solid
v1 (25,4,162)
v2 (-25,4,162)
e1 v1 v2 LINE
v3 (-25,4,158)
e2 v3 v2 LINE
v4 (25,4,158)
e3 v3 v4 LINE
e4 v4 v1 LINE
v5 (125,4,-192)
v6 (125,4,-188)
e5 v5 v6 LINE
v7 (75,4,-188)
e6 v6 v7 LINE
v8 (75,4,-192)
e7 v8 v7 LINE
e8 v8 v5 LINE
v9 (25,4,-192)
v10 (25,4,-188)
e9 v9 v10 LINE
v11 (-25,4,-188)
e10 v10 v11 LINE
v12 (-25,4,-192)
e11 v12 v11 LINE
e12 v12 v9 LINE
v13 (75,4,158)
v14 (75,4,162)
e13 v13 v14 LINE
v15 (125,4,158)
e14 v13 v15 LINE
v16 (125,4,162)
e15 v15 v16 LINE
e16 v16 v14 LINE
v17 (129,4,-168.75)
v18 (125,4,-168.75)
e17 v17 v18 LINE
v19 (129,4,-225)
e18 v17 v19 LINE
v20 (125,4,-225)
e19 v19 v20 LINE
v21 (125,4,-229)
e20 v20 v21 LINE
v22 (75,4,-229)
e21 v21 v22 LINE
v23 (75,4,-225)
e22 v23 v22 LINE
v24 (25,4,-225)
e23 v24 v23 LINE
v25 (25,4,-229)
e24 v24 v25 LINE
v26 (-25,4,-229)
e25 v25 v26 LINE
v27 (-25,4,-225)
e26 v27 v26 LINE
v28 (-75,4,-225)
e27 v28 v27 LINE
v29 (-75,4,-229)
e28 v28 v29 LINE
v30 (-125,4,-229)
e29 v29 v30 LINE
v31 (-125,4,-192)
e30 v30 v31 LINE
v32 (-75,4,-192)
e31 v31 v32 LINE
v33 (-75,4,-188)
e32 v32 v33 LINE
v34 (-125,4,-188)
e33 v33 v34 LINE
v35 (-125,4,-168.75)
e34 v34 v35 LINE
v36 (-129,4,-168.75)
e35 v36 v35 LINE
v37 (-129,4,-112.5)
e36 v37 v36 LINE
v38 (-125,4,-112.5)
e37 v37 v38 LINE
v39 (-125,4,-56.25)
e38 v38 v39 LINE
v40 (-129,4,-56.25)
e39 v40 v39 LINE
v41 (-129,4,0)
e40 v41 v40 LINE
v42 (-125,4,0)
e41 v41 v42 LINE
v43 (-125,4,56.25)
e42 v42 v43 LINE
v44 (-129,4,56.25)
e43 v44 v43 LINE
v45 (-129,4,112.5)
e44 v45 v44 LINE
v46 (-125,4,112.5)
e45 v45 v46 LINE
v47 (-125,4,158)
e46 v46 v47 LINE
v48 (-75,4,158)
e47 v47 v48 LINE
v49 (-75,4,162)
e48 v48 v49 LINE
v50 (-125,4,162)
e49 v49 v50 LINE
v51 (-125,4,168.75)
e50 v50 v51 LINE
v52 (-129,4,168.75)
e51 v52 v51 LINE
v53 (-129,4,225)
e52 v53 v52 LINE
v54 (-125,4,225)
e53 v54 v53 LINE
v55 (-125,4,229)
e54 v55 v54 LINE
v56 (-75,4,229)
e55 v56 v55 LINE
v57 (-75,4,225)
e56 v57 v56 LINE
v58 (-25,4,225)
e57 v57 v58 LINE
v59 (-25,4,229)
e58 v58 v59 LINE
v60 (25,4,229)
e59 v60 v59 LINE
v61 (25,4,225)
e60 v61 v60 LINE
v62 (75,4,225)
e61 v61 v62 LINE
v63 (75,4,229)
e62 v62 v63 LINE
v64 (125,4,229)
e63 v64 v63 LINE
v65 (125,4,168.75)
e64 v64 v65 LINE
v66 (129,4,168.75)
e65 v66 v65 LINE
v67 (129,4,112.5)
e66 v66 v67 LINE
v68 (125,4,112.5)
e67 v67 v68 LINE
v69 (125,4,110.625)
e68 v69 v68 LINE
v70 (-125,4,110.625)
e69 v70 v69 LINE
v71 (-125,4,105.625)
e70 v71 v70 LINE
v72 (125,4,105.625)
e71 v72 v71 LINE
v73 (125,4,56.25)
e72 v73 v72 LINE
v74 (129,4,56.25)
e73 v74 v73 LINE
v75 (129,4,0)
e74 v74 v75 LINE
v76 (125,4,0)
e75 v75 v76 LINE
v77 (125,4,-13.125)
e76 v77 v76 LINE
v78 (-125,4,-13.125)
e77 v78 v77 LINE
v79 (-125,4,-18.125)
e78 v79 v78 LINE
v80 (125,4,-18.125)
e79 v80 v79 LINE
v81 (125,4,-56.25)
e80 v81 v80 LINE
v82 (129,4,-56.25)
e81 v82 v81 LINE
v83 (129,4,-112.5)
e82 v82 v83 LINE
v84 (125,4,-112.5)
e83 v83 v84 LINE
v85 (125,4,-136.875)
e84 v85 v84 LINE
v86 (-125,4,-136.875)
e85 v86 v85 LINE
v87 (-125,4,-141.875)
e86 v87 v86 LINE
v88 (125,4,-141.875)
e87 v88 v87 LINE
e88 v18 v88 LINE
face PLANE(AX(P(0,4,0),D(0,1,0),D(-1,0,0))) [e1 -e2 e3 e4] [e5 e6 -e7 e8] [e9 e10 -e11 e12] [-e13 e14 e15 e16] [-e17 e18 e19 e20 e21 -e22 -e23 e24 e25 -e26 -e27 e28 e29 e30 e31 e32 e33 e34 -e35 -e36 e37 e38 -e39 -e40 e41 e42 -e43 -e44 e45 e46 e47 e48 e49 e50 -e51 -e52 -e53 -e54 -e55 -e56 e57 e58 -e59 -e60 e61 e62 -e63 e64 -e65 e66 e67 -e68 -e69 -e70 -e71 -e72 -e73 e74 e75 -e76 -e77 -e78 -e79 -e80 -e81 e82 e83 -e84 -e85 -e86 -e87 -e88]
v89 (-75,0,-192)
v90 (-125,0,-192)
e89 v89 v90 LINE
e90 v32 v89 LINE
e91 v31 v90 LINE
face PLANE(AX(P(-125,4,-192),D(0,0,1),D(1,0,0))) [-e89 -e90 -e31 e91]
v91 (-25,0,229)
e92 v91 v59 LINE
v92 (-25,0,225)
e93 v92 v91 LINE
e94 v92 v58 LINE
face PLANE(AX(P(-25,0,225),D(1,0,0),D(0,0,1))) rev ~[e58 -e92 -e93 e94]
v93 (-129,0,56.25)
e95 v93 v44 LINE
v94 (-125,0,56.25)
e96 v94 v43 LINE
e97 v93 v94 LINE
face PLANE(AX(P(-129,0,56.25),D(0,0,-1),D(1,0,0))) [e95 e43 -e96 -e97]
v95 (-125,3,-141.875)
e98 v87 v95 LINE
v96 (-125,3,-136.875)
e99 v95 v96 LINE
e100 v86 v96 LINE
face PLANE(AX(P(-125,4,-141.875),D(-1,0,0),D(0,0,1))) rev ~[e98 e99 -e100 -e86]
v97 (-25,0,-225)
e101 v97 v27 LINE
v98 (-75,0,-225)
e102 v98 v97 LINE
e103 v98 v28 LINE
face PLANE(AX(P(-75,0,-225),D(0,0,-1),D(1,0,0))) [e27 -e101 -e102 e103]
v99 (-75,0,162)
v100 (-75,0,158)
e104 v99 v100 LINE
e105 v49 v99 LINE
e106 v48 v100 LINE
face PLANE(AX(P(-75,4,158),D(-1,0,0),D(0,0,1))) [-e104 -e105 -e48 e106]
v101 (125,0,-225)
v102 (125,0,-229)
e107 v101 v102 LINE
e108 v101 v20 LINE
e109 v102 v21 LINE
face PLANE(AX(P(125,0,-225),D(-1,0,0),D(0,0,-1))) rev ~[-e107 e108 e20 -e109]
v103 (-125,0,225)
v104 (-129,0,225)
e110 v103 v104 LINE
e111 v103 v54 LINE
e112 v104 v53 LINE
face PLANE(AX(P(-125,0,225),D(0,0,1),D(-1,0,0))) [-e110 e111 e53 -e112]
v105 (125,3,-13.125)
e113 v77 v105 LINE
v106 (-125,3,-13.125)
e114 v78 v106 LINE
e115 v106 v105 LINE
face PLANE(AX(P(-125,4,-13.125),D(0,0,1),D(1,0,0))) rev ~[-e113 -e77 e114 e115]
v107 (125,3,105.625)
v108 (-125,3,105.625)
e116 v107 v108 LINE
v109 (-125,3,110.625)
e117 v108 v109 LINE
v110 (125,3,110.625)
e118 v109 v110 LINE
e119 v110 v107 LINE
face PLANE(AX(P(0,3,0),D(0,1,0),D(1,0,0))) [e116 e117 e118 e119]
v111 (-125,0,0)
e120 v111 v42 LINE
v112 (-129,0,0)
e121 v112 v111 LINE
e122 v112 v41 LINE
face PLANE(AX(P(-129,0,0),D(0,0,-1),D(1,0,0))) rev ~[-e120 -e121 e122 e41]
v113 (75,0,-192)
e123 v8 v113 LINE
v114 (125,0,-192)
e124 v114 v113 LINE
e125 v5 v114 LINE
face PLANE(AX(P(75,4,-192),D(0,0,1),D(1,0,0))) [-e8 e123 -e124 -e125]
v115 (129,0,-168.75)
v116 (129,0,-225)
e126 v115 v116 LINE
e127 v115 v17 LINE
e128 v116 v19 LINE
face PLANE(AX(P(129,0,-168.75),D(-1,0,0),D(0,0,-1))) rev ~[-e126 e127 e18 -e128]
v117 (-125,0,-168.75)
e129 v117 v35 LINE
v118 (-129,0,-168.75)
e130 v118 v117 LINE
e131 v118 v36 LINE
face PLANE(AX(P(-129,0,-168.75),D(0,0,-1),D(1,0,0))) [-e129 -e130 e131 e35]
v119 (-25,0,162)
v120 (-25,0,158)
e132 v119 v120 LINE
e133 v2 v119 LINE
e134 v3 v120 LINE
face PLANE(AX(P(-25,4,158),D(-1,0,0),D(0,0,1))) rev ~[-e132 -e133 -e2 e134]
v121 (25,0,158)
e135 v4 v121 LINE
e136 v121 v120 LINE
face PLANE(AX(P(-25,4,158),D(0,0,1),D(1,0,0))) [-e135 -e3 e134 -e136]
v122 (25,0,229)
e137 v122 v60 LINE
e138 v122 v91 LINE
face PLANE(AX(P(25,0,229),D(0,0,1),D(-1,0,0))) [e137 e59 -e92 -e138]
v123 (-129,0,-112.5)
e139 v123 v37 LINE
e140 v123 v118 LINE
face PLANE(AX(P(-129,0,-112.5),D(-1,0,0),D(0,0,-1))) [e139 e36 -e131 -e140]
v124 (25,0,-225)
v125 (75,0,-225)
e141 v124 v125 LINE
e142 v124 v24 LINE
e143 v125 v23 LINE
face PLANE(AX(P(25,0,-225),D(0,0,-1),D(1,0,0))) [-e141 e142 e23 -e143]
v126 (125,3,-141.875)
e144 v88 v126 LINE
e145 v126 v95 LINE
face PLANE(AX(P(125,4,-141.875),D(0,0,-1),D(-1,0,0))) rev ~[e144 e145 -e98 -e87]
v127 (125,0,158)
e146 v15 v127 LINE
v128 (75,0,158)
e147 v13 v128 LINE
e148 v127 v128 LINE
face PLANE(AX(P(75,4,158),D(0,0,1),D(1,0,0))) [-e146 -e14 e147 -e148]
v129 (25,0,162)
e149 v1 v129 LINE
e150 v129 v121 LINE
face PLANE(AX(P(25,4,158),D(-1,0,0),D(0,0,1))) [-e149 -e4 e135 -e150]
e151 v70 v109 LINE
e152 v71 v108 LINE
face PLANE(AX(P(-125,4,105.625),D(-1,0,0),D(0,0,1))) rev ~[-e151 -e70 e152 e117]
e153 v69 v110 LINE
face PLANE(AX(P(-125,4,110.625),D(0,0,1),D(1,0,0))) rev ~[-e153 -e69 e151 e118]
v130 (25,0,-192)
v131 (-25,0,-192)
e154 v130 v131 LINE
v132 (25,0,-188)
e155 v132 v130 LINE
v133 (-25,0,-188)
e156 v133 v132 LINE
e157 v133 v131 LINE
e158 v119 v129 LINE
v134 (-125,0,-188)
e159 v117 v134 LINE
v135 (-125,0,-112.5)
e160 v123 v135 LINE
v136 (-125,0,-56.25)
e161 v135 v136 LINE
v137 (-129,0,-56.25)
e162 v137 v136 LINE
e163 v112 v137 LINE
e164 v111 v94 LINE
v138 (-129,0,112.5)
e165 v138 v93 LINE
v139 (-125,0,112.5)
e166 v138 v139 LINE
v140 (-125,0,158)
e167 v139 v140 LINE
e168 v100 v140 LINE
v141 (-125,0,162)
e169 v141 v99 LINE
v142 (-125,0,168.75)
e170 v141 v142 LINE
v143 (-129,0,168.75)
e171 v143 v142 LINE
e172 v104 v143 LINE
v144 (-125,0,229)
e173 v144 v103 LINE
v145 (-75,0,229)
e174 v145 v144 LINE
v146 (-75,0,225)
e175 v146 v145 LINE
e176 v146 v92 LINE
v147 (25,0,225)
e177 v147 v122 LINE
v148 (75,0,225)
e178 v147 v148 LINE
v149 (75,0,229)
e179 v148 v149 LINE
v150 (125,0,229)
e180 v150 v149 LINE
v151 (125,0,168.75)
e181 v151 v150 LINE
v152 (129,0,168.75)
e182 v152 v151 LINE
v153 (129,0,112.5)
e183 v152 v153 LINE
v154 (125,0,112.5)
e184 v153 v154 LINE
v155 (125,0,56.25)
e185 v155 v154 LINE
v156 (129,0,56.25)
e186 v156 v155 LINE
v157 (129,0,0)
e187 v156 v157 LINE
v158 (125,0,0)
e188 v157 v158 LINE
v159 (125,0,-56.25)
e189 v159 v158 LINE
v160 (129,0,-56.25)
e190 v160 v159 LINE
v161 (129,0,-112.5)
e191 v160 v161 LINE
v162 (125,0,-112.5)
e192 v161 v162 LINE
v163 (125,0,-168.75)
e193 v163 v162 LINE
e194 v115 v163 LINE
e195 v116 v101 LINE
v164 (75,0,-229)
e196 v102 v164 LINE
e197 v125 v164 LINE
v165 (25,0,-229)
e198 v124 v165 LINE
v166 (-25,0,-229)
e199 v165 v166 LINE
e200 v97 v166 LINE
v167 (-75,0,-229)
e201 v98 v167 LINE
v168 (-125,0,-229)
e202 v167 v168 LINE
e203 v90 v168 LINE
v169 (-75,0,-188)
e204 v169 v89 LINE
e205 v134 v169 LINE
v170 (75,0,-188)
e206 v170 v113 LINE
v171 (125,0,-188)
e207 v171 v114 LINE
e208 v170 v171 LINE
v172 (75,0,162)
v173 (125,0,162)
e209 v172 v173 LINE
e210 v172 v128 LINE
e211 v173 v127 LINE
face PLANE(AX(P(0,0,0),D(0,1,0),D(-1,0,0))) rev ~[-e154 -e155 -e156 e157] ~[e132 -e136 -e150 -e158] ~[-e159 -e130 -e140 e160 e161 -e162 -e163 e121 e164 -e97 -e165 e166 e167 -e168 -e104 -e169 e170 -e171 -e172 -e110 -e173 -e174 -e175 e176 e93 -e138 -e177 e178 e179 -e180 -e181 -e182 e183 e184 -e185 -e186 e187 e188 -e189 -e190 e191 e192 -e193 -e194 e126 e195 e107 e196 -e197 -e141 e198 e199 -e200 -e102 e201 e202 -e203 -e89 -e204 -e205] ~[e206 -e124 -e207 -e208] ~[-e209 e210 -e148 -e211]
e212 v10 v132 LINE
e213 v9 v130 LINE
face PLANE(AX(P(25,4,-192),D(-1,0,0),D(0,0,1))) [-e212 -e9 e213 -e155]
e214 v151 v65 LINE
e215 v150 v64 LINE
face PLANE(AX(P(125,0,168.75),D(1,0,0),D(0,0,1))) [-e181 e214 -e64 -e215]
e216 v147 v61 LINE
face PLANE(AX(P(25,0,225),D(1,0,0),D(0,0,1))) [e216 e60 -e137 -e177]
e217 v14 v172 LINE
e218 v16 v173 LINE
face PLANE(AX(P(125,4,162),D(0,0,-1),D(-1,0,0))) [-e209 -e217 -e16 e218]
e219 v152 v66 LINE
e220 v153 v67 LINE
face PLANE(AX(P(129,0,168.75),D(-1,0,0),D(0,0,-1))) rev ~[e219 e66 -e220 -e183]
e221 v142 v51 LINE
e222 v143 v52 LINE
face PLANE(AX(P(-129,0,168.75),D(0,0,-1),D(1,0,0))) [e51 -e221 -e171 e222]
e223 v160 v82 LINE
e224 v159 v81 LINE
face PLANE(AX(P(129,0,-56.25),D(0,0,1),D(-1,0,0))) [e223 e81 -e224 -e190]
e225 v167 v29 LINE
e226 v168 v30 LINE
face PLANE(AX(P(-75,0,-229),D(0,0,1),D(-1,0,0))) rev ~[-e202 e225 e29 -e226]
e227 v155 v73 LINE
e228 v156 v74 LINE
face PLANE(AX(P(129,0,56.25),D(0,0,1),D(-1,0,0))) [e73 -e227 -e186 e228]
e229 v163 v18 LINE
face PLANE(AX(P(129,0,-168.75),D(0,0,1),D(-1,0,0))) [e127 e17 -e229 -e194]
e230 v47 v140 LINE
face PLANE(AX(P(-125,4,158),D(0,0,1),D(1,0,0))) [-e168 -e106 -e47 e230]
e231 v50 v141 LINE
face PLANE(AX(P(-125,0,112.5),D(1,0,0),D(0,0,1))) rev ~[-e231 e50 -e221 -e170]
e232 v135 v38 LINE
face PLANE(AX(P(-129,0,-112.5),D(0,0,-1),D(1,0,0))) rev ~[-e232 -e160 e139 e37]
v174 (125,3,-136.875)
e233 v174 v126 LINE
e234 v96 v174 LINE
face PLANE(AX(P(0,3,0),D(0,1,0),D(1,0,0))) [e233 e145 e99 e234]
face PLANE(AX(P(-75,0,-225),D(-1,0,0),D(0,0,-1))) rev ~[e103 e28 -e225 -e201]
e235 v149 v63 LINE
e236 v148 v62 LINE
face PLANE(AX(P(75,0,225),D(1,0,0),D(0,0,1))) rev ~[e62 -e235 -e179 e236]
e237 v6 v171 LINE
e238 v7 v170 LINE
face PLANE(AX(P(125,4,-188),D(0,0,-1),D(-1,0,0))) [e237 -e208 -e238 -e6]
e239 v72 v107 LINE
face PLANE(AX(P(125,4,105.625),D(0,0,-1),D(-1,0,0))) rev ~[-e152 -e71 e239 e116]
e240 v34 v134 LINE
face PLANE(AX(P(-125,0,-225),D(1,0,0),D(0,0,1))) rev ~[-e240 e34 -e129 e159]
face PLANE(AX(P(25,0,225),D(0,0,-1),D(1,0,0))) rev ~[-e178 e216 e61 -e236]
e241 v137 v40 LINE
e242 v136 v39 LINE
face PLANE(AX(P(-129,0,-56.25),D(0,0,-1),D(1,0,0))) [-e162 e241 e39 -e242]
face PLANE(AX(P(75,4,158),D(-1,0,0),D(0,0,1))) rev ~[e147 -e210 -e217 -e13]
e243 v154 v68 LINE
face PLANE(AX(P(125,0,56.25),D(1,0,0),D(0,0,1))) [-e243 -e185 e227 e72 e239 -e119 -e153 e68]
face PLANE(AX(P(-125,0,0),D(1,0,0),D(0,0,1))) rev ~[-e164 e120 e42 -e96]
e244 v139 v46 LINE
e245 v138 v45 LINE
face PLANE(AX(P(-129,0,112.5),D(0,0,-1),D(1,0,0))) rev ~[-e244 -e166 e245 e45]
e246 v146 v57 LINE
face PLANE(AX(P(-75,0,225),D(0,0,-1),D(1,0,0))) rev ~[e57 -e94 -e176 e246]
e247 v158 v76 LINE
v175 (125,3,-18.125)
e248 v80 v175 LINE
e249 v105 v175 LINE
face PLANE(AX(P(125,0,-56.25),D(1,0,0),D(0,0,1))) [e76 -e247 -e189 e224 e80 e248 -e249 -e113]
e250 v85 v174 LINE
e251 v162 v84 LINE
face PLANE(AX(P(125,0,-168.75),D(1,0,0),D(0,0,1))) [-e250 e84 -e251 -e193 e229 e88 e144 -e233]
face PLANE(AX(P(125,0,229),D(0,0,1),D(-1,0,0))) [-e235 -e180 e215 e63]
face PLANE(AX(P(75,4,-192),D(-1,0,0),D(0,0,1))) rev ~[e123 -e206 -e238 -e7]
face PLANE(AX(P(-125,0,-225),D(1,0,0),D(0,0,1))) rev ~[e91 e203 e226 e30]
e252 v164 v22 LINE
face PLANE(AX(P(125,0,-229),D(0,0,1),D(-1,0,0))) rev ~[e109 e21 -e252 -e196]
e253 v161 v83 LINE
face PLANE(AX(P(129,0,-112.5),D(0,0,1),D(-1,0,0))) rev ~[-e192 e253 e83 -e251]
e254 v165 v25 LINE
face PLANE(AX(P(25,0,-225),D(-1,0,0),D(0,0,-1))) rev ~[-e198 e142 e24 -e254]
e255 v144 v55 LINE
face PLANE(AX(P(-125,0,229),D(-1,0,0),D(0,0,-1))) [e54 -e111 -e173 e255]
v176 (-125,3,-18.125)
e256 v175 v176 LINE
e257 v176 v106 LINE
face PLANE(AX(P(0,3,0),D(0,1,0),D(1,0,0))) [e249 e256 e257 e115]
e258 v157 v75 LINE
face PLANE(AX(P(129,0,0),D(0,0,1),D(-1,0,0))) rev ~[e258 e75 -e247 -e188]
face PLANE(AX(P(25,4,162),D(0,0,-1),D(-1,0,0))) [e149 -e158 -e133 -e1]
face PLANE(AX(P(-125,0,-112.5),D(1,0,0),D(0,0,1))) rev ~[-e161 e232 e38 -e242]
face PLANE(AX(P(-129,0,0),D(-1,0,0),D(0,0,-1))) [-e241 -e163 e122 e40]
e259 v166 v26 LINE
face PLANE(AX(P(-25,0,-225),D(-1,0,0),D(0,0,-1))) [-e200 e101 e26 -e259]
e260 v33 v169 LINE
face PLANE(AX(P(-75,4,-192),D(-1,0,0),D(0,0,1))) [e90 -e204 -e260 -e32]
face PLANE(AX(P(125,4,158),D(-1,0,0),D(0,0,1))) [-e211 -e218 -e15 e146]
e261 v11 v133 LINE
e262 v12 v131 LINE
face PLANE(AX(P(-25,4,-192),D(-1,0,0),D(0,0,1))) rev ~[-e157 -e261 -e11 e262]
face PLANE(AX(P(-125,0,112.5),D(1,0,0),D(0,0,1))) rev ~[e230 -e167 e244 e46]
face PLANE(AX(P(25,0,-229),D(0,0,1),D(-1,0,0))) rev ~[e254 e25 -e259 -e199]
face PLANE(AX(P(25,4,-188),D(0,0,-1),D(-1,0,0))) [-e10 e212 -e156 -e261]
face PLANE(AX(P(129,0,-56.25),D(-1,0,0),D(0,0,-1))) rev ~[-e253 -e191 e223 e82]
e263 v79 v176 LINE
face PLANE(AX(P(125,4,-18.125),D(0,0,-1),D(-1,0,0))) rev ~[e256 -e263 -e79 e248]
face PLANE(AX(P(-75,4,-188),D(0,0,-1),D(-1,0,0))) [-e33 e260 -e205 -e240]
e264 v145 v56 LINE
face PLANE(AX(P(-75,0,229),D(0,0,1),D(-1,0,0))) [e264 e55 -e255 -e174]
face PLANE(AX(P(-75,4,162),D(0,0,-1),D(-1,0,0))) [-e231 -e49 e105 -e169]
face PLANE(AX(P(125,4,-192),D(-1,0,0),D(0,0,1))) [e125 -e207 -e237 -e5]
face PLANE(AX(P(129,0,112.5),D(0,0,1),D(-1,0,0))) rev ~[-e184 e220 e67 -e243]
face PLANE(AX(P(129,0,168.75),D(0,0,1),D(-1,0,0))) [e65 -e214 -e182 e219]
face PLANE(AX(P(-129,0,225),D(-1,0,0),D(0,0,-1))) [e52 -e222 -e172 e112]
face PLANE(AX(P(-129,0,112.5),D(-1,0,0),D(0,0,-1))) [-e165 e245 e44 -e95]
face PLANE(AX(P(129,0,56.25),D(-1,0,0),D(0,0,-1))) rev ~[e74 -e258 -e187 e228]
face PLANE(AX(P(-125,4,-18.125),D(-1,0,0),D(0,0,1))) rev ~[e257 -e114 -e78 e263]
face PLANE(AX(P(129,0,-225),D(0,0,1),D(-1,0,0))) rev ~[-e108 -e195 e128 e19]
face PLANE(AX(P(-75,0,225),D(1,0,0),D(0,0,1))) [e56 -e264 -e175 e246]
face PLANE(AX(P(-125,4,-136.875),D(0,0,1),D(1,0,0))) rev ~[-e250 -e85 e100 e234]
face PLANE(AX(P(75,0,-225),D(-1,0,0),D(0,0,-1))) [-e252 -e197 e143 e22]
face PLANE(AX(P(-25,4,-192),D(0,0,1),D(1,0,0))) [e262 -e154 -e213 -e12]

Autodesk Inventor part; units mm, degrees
ref_plane "YZ Plane" through (0, 0, 0) normal (1, 0, 0) x (0, 1, 0)
ref_plane "XZ Plane" through (0, 0, 0) normal (0, 1, 0) x (-1, 0, 0)
ref_plane "XY Plane" through (0, 0, 0) normal (0, 0, 1) x (1, 0, 0)
sketch "Sketch1" plane through (0, 0, 0) normal (0, 1, 0) x (-1, 0, 0)
  line L0 (-125, 225) -> (125, 225) construction
  line L1 (125, 225) -> (125, -225) construction
  line L2 (125, -225) -> (-125, -225) construction
  line L3 (-125, -225) -> (-125, 225) construction
  line L4 (-125, 225) -> (125, -225) construction
  line L5 (125, 225) -> (-125, -225) construction
  line L6 (125, 225) -> (75, 225) construction
  line L7 (75, 225) -> (75, 229)
  line L8 (75, 229) -> (125, 229)
  line L9 (125, 229) -> (125, 225)
  line L10 (125, 225) -> (129, 225)
  line L11 (129, 225) -> (129, 168.75)
  line L12 (129, 168.75) -> (125, 168.75)
  line L13 (125, 168.75) -> (125, 225) construction
  line L14 (-125, 225) -> (-129, 225) construction
  line L15 (-129, 225) -> (-129, 168.75) construction
  line L16 (-129, 168.75) -> (-125, 168.75)
  line L17 (-125, 168.75) -> (-125, 225)
  line L18 (125, -225) -> (75, -225) construction
  line L19 (75, -225) -> (75, -229)
  line L20 (75, -229) -> (125, -229)
  line L21 (125, -229) -> (125, -225)
  line L22 (125, 112.5) -> (125, 168.75)
  line L23 (125, 168.75) -> (129, 168.75)
  line L24 (129, 112.5) -> (125, 112.5)
  line L25 (129, 168.75) -> (129, 112.5) construction
  line L26 (-125, 112.5) -> (-125, 168.75) construction
  line L27 (-125, 168.75) -> (-129, 168.75)
  line L28 (-129, 168.75) -> (-129, 112.5)
  line L29 (-129, 112.5) -> (-125, 112.5)
  line L30 (125, 56.25) -> (125, 112.5) construction
  line L31 (125, 112.5) -> (129, 112.5)
  line L32 (129, 56.25) -> (125, 56.25)
  line L33 (129, 112.5) -> (129, 56.25)
  line L34 (-125, 56.25) -> (-125, 112.5)
  line L35 (-125, 112.5) -> (-129, 112.5)
  line L36 (-129, 112.5) -> (-129, 56.25) construction
  line L37 (-129, 56.25) -> (-125, 56.25)
  line L38 (125, 0) -> (125, 56.25)
  line L39 (125, 56.25) -> (129, 56.25)
  line L40 (129, 0) -> (125, 0)
  line L41 (129, 56.25) -> (129, 0) construction
  line L42 (-125, 0) -> (-125, 56.25) construction
  line L43 (-125, 56.25) -> (-129, 56.25)
  line L44 (-129, 56.25) -> (-129, 0)
  line L45 (-129, 0) -> (-125, 0)
  line L46 (125, -56.25) -> (125, 0) construction
  line L47 (125, 0) -> (129, 0)
  line L48 (129, -56.25) -> (125, -56.25)
  line L49 (129, 0) -> (129, -56.25)
  line L50 (-125, -56.25) -> (-125, 0)
  line L51 (-125, 0) -> (-129, 0)
  line L52 (-129, 0) -> (-129, -56.25) construction
  line L53 (-129, -56.25) -> (-125, -56.25)
  line L54 (125, -112.5) -> (125, -56.25)
  line L55 (125, -56.25) -> (129, -56.25)
  line L56 (129, -112.5) -> (125, -112.5)
  line L57 (129, -56.25) -> (129, -112.5) construction
  line L58 (-125, -112.5) -> (-125, -56.25) construction
  line L59 (-125, -56.25) -> (-129, -56.25)
  line L60 (-129, -56.25) -> (-129, -112.5)
  line L61 (-129, -112.5) -> (-125, -112.5)
  line L62 (125, -168.75) -> (125, -112.5) construction
  line L63 (125, -112.5) -> (129, -112.5)
  line L64 (129, -168.75) -> (125, -168.75)
  line L65 (129, -112.5) -> (129, -168.75)
  line L66 (-125, -168.75) -> (-125, -112.5)
  line L67 (-125, -112.5) -> (-129, -112.5)
  line L68 (-129, -112.5) -> (-129, -168.75) construction
  line L69 (-129, -168.75) -> (-125, -168.75)
  line L70 (125, -225) -> (125, -168.75)
  line L71 (125, -168.75) -> (129, -168.75)
  line L72 (129, -225) -> (125, -225) construction
  line L73 (129, -168.75) -> (129, -225) construction
  line L74 (-125, -225) -> (-125, -168.75) construction
  line L75 (-125, -168.75) -> (-129, -168.75)
  line L76 (-129, -168.75) -> (-129, -225)
  line L77 (-129, -225) -> (-125, -225)
  line L78 (75, 229) -> (75, 225)
  line L79 (25, 225) -> (25, 229)
  line L80 (25, 229) -> (75, 229) construction
  line L81 (75, 225) -> (25, 225)
  line L82 (75, -225) -> (25, -225)
  line L83 (25, -225) -> (25, -229)
  line L84 (25, -229) -> (75, -229) construction
  line L85 (75, -229) -> (75, -225)
  line L86 (25, 229) -> (25, 225)
  line L87 (-25, 225) -> (-25, 229)
  line L88 (-25, 229) -> (25, 229)
  line L89 (25, 225) -> (-25, 225) construction
  line L90 (25, -225) -> (-25, -225) construction
  line L91 (-25, -225) -> (-25, -229)
  line L92 (-25, -229) -> (25, -229)
  line L93 (25, -229) -> (25, -225)
  line L94 (-25, 229) -> (-25, 225)
  line L95 (-75, 225) -> (-75, 229)
  line L96 (-75, 229) -> (-25, 229) construction
  line L97 (-25, 225) -> (-75, 225)
  line L98 (-25, -225) -> (-75, -225)
  line L99 (-75, -225) -> (-75, -229)
  line L100 (-75, -229) -> (-25, -229) construction
  line L101 (-25, -229) -> (-25, -225)
  line L102 (-75, 229) -> (-75, 225)
  line L103 (-125, 225) -> (-125, 229)
  line L104 (-125, 229) -> (-75, 229)
  line L105 (-75, 225) -> (-125, 225) construction
  line L106 (-75, -225) -> (-125, -225) construction
  line L107 (-125, -225) -> (-125, -229)
  line L108 (-125, -229) -> (-75, -229)
  line L109 (-75, -229) -> (-75, -225)
  point P0 (0, 0)
  point P1 (75, -225)
  point P2 (25, -225)
  point P3 (-25, -225)
  point P4 (-75, -225)
  point P5 (-129, 168.75)
  point P6 (-129, 56.25)
  point P7 (-129, -56.25)
  point P8 (-129, -168.75)
  point P9 (-125, -225)
  point P10 (-25, -225)
  point P11 (75, -225)
  point P12 (125, -56.25)
  point P13 (125, 56.25)
  point P14 (125, 168.75)
  dimension "d0" = 250
  dimension "d1" = 450
  dimension "d2" = 50
  dimension "d3" = 4
  dimension "d4" = 4
  dimension "d5" = 56.25
  dimension "d6" = 4
  dimension "d7" = 56.25
  dimension "d8" = 50
  dimension "d9" = 4
  dimension "d12" = 56.25
  dimension "d19" = 50
extrude "Extrusion1" add sketch "Sketch1" along normal blind 4
sketch "Sketch3" plane through (0, 4, 0) normal (0, 1, 0) x (1, 0, 0)
  line L0 (-129, 56.25) -> (-129, 0) projected
  line L1 (-129, 15.625) -> (125, 15.625) construction
  line L2 (125, 0) -> (125, 56.25) projected
  line L3 (-129, 13.125) -> (125, 13.125)
  line L4 (125, 13.125) -> (125, 18.125)
  line L5 (125, 18.125) -> (-129, 18.125)
  line L6 (-129, 18.125) -> (-129, 13.125)
  line L7 (-129, 18.125) -> (-125, 18.125)
  line L8 (-125, 18.125) -> (-125, 13.125)
  line L9 (-125, 13.125) -> (-129, 13.125)
  line L10 (-129, 13.125) -> (-129, 18.125)
  line L11 (-25, -225) -> (-25, -229) projected
  line L12 (-25, -229) -> (25, -229) projected
  line L13 (25, -229) -> (25, -225) projected
  line L14 (25, -225) -> (75, -225) projected
  line L15 (75, -225) -> (75, -229) projected
  line L16 (75, -229) -> (125, -229) projected
  line L17 (125, -229) -> (125, -168.75) projected
  line L18 (125, -168.75) -> (129, -168.75) projected
  line L19 (129, -168.75) -> (129, -112.5) projected
  line L20 (129, -112.5) -> (125, -112.5) projected
  line L21 (125, -112.5) -> (125, -56.25) projected
  line L22 (125, -56.25) -> (129, -56.25) projected
  line L23 (129, -56.25) -> (129, 0) projected
  line L24 (129, 0) -> (125, 0) projected
  line L25 (125, 0) -> (125, 56.25) projected
  line L26 (125, 56.25) -> (129, 56.25) projected
  line L27 (129, 56.25) -> (129, 112.5) projected
  line L28 (129, 112.5) -> (125, 112.5) projected
  line L29 (125, 112.5) -> (125, 168.75) projected
  line L30 (125, 168.75) -> (129, 168.75) projected
  line L31 (129, 168.75) -> (129, 225) projected
  line L32 (129, 225) -> (125, 225) projected
  line L33 (125, 225) -> (125, 229) projected
  line L34 (125, 229) -> (75, 229) projected
  line L35 (75, 229) -> (75, 225) projected
  line L36 (75, 225) -> (25, 225) projected
  line L37 (25, 225) -> (25, 229) projected
  line L38 (25, 229) -> (-25, 229) projected
  line L39 (-25, 229) -> (-25, 225) projected
  line L40 (-25, 225) -> (-75, 225) projected
  line L41 (-75, 225) -> (-75, 229) projected
  line L42 (-75, 229) -> (-125, 229) projected
  line L43 (-125, 229) -> (-125, 168.75) projected
  line L44 (-125, 168.75) -> (-129, 168.75) projected
  line L45 (-129, 168.75) -> (-129, 112.5) projected
  line L46 (-129, 112.5) -> (-125, 112.5) projected
  line L47 (-125, 112.5) -> (-125, 56.25) projected
  line L48 (-125, 56.25) -> (-129, 56.25) projected
  line L49 (-129, 56.25) -> (-129, 0) projected
  line L50 (-129, 0) -> (-125, 0) projected
  line L51 (-125, 0) -> (-125, -56.25) projected
  line L52 (-125, -56.25) -> (-129, -56.25) projected
  line L53 (-129, -56.25) -> (-129, -112.5) projected
  line L54 (-129, -112.5) -> (-125, -112.5) projected
  line L55 (-125, -112.5) -> (-125, -168.75) projected
  line L56 (-125, -168.75) -> (-129, -168.75) projected
  line L57 (-129, -168.75) -> (-129, -225) projected
  line L58 (-129, -225) -> (-125, -225) projected
  line L59 (-125, -225) -> (-125, -229) projected
  line L60 (-125, -229) -> (-75, -229) projected
  line L61 (-75, -229) -> (-75, -225) projected
  line L62 (-75, -225) -> (-25, -225) projected
  line L63 (-125, -112.5) -> (-125, -168.75) projected
  line L64 (-109.8402, -80.4521) -> (129, -140.625) construction
  line L65 (129, -168.75) -> (129, -112.5) projected
  line L66 (-125, -110.625) -> (125, -110.625)
  line L67 (125, -110.625) -> (125, -105.625)
  line L68 (125, -105.625) -> (-125, -105.625)
  line L69 (-125, -105.625) -> (-125, -110.625)
  line L70 (-125, -110.625) -> (125, -105.625) construction
  line L71 (125, -110.625) -> (-125, -105.625) construction
  line L72 (125, 0) -> (125, 56.25) projected
  line L73 (-125, 0) -> (-125, -56.25) projected
  line L74 (129, 168.75) -> (129, 225) projected
  line L75 (129, 139.375) -> (-125, 139.375) construction
  line L76 (-125, 136.875) -> (125, 136.875)
  line L77 (125, 136.875) -> (125, 141.875)
  line L78 (125, 141.875) -> (-125, 141.875)
  line L79 (-125, 141.875) -> (-125, 136.875)
  line L80 (-125, 136.875) -> (125, 141.875) construction
  line L81 (125, 136.875) -> (-125, 141.875) construction
  line L82 (-125, 229) -> (-125, 168.75) projected
  line L83 (125, 112.5) -> (125, 168.75) projected
  point P0 (0, 0)
  point P1 (-129, 18.125)
  point P2 (-125, 18.125)
  point P3 (-125, 13.125)
  point P4 (0, -108.125)
  point P5 (-125, -138.125)
  point P6 (-125, -143.125)
  point P7 (0, 139.375)
  point P8 (-125, 199.375)
  point P9 (-125, 194.375)
  dimension "d30" = 5
  dimension "d34" = 5
  dimension "d35" = 5
  dimension "d36" = 5
  dimension "d56" = 118.375
  dimension "d57" = 118.75
  dimension "d59" = 118.75
extrude "Extrusion2" cut sketch "Sketch3" against normal blind 1 contours L5 L2 L3 L8 | L76 L79 L78 L29 | L21 L66 L69 L68
sketch "Sketch4" plane through (0, 4, 0) normal (0, 1, 0) x (1, 0, 0)
  line L0 (-125, -158) -> (-75, -158)
  line L1 (-75, -158) -> (-75, -162)
  line L2 (-75, -162) -> (-125, -162)
  line L3 (-125, -162) -> (-125, -158)
  line L4 (-75, -225) -> (-25, -225) projected
  line L5 (125, -110.625) -> (-125, -110.625) projected
  line L6 (-75, -158) -> (-25, -158)
  line L7 (-25, -158) -> (-25, -162)
  line L8 (-25, -162) -> (-75, -162)
  line L9 (-75, -162) -> (-75, -158)
  line L10 (-25, -158) -> (25, -158)
  line L11 (25, -158) -> (25, -162)
  line L12 (25, -162) -> (-25, -162)
  line L13 (-25, -162) -> (-25, -158)
  line L14 (25, -158) -> (75, -158)
  line L15 (75, -158) -> (75, -162)
  line L16 (75, -162) -> (25, -162)
  line L17 (25, -162) -> (25, -158)
  line L18 (75, -158) -> (125, -158)
  line L19 (125, -158) -> (125, -162)
  line L20 (125, -162) -> (75, -162)
  line L21 (75, -162) -> (75, -158)
  line L22 (-125, 0) -> (-125, -56.25) projected
  line L23 (-125, 192) -> (-75, 192)
  line L24 (-75, 192) -> (-75, 188)
  line L25 (-75, 188) -> (-125, 188)
  line L26 (-125, 188) -> (-125, 192)
  line L27 (-75, 192) -> (-25, 192)
  line L28 (-25, 192) -> (-25, 188)
  line L29 (-25, 188) -> (-25, 192)
  line L30 (-25, 188) -> (-75, 188)
  line L31 (-75, 188) -> (-75, 192)
  line L32 (-25, 192) -> (25, 192)
  line L33 (25, 188) -> (-25, 188)
  line L34 (25, 192) -> (25, 188)
  line L35 (25, 188) -> (25, 192)
  line L36 (25, 192) -> (75, 192)
  line L37 (75, 192) -> (75, 188)
  line L38 (75, 188) -> (75, 192)
  line L39 (75, 192) -> (125, 192)
  line L40 (125, 192) -> (125, 188)
  line L41 (125, 188) -> (75, 188)
  line L42 (75, 188) -> (25, 188)
  point P0 (0, 0)
  point P1 (-125, -160)
  point P2 (-75, -160)
  point P3 (-25, -160)
  point P4 (25, -160)
  point P5 (75, -160)
  point P6 (-25, -162)
  point P7 (-125, 190)
  point P8 (-25, 190)
  point P9 (-75, 190)
  point P10 (25, 190)
  point P11 (75, 190)
  point P12 (-25, 188)
  point P13 (-125, -168.75)
  dimension "d37" = 50
  dimension "d38" = 4
  dimension "d39" = 63
  dimension "d42" = 50
  dimension "d51" = 350
extrude "Extrusion3" cut sketch "Sketch4" against normal up to next contours L0 L1 L2 L3 | L10 L11 L12 L7 | L18 L19 L20 L15 | L23 L24 L25 L26 | L32 L34 L33 L28 | L39 L40 L41 L37
properties part number "Wall_V2"
